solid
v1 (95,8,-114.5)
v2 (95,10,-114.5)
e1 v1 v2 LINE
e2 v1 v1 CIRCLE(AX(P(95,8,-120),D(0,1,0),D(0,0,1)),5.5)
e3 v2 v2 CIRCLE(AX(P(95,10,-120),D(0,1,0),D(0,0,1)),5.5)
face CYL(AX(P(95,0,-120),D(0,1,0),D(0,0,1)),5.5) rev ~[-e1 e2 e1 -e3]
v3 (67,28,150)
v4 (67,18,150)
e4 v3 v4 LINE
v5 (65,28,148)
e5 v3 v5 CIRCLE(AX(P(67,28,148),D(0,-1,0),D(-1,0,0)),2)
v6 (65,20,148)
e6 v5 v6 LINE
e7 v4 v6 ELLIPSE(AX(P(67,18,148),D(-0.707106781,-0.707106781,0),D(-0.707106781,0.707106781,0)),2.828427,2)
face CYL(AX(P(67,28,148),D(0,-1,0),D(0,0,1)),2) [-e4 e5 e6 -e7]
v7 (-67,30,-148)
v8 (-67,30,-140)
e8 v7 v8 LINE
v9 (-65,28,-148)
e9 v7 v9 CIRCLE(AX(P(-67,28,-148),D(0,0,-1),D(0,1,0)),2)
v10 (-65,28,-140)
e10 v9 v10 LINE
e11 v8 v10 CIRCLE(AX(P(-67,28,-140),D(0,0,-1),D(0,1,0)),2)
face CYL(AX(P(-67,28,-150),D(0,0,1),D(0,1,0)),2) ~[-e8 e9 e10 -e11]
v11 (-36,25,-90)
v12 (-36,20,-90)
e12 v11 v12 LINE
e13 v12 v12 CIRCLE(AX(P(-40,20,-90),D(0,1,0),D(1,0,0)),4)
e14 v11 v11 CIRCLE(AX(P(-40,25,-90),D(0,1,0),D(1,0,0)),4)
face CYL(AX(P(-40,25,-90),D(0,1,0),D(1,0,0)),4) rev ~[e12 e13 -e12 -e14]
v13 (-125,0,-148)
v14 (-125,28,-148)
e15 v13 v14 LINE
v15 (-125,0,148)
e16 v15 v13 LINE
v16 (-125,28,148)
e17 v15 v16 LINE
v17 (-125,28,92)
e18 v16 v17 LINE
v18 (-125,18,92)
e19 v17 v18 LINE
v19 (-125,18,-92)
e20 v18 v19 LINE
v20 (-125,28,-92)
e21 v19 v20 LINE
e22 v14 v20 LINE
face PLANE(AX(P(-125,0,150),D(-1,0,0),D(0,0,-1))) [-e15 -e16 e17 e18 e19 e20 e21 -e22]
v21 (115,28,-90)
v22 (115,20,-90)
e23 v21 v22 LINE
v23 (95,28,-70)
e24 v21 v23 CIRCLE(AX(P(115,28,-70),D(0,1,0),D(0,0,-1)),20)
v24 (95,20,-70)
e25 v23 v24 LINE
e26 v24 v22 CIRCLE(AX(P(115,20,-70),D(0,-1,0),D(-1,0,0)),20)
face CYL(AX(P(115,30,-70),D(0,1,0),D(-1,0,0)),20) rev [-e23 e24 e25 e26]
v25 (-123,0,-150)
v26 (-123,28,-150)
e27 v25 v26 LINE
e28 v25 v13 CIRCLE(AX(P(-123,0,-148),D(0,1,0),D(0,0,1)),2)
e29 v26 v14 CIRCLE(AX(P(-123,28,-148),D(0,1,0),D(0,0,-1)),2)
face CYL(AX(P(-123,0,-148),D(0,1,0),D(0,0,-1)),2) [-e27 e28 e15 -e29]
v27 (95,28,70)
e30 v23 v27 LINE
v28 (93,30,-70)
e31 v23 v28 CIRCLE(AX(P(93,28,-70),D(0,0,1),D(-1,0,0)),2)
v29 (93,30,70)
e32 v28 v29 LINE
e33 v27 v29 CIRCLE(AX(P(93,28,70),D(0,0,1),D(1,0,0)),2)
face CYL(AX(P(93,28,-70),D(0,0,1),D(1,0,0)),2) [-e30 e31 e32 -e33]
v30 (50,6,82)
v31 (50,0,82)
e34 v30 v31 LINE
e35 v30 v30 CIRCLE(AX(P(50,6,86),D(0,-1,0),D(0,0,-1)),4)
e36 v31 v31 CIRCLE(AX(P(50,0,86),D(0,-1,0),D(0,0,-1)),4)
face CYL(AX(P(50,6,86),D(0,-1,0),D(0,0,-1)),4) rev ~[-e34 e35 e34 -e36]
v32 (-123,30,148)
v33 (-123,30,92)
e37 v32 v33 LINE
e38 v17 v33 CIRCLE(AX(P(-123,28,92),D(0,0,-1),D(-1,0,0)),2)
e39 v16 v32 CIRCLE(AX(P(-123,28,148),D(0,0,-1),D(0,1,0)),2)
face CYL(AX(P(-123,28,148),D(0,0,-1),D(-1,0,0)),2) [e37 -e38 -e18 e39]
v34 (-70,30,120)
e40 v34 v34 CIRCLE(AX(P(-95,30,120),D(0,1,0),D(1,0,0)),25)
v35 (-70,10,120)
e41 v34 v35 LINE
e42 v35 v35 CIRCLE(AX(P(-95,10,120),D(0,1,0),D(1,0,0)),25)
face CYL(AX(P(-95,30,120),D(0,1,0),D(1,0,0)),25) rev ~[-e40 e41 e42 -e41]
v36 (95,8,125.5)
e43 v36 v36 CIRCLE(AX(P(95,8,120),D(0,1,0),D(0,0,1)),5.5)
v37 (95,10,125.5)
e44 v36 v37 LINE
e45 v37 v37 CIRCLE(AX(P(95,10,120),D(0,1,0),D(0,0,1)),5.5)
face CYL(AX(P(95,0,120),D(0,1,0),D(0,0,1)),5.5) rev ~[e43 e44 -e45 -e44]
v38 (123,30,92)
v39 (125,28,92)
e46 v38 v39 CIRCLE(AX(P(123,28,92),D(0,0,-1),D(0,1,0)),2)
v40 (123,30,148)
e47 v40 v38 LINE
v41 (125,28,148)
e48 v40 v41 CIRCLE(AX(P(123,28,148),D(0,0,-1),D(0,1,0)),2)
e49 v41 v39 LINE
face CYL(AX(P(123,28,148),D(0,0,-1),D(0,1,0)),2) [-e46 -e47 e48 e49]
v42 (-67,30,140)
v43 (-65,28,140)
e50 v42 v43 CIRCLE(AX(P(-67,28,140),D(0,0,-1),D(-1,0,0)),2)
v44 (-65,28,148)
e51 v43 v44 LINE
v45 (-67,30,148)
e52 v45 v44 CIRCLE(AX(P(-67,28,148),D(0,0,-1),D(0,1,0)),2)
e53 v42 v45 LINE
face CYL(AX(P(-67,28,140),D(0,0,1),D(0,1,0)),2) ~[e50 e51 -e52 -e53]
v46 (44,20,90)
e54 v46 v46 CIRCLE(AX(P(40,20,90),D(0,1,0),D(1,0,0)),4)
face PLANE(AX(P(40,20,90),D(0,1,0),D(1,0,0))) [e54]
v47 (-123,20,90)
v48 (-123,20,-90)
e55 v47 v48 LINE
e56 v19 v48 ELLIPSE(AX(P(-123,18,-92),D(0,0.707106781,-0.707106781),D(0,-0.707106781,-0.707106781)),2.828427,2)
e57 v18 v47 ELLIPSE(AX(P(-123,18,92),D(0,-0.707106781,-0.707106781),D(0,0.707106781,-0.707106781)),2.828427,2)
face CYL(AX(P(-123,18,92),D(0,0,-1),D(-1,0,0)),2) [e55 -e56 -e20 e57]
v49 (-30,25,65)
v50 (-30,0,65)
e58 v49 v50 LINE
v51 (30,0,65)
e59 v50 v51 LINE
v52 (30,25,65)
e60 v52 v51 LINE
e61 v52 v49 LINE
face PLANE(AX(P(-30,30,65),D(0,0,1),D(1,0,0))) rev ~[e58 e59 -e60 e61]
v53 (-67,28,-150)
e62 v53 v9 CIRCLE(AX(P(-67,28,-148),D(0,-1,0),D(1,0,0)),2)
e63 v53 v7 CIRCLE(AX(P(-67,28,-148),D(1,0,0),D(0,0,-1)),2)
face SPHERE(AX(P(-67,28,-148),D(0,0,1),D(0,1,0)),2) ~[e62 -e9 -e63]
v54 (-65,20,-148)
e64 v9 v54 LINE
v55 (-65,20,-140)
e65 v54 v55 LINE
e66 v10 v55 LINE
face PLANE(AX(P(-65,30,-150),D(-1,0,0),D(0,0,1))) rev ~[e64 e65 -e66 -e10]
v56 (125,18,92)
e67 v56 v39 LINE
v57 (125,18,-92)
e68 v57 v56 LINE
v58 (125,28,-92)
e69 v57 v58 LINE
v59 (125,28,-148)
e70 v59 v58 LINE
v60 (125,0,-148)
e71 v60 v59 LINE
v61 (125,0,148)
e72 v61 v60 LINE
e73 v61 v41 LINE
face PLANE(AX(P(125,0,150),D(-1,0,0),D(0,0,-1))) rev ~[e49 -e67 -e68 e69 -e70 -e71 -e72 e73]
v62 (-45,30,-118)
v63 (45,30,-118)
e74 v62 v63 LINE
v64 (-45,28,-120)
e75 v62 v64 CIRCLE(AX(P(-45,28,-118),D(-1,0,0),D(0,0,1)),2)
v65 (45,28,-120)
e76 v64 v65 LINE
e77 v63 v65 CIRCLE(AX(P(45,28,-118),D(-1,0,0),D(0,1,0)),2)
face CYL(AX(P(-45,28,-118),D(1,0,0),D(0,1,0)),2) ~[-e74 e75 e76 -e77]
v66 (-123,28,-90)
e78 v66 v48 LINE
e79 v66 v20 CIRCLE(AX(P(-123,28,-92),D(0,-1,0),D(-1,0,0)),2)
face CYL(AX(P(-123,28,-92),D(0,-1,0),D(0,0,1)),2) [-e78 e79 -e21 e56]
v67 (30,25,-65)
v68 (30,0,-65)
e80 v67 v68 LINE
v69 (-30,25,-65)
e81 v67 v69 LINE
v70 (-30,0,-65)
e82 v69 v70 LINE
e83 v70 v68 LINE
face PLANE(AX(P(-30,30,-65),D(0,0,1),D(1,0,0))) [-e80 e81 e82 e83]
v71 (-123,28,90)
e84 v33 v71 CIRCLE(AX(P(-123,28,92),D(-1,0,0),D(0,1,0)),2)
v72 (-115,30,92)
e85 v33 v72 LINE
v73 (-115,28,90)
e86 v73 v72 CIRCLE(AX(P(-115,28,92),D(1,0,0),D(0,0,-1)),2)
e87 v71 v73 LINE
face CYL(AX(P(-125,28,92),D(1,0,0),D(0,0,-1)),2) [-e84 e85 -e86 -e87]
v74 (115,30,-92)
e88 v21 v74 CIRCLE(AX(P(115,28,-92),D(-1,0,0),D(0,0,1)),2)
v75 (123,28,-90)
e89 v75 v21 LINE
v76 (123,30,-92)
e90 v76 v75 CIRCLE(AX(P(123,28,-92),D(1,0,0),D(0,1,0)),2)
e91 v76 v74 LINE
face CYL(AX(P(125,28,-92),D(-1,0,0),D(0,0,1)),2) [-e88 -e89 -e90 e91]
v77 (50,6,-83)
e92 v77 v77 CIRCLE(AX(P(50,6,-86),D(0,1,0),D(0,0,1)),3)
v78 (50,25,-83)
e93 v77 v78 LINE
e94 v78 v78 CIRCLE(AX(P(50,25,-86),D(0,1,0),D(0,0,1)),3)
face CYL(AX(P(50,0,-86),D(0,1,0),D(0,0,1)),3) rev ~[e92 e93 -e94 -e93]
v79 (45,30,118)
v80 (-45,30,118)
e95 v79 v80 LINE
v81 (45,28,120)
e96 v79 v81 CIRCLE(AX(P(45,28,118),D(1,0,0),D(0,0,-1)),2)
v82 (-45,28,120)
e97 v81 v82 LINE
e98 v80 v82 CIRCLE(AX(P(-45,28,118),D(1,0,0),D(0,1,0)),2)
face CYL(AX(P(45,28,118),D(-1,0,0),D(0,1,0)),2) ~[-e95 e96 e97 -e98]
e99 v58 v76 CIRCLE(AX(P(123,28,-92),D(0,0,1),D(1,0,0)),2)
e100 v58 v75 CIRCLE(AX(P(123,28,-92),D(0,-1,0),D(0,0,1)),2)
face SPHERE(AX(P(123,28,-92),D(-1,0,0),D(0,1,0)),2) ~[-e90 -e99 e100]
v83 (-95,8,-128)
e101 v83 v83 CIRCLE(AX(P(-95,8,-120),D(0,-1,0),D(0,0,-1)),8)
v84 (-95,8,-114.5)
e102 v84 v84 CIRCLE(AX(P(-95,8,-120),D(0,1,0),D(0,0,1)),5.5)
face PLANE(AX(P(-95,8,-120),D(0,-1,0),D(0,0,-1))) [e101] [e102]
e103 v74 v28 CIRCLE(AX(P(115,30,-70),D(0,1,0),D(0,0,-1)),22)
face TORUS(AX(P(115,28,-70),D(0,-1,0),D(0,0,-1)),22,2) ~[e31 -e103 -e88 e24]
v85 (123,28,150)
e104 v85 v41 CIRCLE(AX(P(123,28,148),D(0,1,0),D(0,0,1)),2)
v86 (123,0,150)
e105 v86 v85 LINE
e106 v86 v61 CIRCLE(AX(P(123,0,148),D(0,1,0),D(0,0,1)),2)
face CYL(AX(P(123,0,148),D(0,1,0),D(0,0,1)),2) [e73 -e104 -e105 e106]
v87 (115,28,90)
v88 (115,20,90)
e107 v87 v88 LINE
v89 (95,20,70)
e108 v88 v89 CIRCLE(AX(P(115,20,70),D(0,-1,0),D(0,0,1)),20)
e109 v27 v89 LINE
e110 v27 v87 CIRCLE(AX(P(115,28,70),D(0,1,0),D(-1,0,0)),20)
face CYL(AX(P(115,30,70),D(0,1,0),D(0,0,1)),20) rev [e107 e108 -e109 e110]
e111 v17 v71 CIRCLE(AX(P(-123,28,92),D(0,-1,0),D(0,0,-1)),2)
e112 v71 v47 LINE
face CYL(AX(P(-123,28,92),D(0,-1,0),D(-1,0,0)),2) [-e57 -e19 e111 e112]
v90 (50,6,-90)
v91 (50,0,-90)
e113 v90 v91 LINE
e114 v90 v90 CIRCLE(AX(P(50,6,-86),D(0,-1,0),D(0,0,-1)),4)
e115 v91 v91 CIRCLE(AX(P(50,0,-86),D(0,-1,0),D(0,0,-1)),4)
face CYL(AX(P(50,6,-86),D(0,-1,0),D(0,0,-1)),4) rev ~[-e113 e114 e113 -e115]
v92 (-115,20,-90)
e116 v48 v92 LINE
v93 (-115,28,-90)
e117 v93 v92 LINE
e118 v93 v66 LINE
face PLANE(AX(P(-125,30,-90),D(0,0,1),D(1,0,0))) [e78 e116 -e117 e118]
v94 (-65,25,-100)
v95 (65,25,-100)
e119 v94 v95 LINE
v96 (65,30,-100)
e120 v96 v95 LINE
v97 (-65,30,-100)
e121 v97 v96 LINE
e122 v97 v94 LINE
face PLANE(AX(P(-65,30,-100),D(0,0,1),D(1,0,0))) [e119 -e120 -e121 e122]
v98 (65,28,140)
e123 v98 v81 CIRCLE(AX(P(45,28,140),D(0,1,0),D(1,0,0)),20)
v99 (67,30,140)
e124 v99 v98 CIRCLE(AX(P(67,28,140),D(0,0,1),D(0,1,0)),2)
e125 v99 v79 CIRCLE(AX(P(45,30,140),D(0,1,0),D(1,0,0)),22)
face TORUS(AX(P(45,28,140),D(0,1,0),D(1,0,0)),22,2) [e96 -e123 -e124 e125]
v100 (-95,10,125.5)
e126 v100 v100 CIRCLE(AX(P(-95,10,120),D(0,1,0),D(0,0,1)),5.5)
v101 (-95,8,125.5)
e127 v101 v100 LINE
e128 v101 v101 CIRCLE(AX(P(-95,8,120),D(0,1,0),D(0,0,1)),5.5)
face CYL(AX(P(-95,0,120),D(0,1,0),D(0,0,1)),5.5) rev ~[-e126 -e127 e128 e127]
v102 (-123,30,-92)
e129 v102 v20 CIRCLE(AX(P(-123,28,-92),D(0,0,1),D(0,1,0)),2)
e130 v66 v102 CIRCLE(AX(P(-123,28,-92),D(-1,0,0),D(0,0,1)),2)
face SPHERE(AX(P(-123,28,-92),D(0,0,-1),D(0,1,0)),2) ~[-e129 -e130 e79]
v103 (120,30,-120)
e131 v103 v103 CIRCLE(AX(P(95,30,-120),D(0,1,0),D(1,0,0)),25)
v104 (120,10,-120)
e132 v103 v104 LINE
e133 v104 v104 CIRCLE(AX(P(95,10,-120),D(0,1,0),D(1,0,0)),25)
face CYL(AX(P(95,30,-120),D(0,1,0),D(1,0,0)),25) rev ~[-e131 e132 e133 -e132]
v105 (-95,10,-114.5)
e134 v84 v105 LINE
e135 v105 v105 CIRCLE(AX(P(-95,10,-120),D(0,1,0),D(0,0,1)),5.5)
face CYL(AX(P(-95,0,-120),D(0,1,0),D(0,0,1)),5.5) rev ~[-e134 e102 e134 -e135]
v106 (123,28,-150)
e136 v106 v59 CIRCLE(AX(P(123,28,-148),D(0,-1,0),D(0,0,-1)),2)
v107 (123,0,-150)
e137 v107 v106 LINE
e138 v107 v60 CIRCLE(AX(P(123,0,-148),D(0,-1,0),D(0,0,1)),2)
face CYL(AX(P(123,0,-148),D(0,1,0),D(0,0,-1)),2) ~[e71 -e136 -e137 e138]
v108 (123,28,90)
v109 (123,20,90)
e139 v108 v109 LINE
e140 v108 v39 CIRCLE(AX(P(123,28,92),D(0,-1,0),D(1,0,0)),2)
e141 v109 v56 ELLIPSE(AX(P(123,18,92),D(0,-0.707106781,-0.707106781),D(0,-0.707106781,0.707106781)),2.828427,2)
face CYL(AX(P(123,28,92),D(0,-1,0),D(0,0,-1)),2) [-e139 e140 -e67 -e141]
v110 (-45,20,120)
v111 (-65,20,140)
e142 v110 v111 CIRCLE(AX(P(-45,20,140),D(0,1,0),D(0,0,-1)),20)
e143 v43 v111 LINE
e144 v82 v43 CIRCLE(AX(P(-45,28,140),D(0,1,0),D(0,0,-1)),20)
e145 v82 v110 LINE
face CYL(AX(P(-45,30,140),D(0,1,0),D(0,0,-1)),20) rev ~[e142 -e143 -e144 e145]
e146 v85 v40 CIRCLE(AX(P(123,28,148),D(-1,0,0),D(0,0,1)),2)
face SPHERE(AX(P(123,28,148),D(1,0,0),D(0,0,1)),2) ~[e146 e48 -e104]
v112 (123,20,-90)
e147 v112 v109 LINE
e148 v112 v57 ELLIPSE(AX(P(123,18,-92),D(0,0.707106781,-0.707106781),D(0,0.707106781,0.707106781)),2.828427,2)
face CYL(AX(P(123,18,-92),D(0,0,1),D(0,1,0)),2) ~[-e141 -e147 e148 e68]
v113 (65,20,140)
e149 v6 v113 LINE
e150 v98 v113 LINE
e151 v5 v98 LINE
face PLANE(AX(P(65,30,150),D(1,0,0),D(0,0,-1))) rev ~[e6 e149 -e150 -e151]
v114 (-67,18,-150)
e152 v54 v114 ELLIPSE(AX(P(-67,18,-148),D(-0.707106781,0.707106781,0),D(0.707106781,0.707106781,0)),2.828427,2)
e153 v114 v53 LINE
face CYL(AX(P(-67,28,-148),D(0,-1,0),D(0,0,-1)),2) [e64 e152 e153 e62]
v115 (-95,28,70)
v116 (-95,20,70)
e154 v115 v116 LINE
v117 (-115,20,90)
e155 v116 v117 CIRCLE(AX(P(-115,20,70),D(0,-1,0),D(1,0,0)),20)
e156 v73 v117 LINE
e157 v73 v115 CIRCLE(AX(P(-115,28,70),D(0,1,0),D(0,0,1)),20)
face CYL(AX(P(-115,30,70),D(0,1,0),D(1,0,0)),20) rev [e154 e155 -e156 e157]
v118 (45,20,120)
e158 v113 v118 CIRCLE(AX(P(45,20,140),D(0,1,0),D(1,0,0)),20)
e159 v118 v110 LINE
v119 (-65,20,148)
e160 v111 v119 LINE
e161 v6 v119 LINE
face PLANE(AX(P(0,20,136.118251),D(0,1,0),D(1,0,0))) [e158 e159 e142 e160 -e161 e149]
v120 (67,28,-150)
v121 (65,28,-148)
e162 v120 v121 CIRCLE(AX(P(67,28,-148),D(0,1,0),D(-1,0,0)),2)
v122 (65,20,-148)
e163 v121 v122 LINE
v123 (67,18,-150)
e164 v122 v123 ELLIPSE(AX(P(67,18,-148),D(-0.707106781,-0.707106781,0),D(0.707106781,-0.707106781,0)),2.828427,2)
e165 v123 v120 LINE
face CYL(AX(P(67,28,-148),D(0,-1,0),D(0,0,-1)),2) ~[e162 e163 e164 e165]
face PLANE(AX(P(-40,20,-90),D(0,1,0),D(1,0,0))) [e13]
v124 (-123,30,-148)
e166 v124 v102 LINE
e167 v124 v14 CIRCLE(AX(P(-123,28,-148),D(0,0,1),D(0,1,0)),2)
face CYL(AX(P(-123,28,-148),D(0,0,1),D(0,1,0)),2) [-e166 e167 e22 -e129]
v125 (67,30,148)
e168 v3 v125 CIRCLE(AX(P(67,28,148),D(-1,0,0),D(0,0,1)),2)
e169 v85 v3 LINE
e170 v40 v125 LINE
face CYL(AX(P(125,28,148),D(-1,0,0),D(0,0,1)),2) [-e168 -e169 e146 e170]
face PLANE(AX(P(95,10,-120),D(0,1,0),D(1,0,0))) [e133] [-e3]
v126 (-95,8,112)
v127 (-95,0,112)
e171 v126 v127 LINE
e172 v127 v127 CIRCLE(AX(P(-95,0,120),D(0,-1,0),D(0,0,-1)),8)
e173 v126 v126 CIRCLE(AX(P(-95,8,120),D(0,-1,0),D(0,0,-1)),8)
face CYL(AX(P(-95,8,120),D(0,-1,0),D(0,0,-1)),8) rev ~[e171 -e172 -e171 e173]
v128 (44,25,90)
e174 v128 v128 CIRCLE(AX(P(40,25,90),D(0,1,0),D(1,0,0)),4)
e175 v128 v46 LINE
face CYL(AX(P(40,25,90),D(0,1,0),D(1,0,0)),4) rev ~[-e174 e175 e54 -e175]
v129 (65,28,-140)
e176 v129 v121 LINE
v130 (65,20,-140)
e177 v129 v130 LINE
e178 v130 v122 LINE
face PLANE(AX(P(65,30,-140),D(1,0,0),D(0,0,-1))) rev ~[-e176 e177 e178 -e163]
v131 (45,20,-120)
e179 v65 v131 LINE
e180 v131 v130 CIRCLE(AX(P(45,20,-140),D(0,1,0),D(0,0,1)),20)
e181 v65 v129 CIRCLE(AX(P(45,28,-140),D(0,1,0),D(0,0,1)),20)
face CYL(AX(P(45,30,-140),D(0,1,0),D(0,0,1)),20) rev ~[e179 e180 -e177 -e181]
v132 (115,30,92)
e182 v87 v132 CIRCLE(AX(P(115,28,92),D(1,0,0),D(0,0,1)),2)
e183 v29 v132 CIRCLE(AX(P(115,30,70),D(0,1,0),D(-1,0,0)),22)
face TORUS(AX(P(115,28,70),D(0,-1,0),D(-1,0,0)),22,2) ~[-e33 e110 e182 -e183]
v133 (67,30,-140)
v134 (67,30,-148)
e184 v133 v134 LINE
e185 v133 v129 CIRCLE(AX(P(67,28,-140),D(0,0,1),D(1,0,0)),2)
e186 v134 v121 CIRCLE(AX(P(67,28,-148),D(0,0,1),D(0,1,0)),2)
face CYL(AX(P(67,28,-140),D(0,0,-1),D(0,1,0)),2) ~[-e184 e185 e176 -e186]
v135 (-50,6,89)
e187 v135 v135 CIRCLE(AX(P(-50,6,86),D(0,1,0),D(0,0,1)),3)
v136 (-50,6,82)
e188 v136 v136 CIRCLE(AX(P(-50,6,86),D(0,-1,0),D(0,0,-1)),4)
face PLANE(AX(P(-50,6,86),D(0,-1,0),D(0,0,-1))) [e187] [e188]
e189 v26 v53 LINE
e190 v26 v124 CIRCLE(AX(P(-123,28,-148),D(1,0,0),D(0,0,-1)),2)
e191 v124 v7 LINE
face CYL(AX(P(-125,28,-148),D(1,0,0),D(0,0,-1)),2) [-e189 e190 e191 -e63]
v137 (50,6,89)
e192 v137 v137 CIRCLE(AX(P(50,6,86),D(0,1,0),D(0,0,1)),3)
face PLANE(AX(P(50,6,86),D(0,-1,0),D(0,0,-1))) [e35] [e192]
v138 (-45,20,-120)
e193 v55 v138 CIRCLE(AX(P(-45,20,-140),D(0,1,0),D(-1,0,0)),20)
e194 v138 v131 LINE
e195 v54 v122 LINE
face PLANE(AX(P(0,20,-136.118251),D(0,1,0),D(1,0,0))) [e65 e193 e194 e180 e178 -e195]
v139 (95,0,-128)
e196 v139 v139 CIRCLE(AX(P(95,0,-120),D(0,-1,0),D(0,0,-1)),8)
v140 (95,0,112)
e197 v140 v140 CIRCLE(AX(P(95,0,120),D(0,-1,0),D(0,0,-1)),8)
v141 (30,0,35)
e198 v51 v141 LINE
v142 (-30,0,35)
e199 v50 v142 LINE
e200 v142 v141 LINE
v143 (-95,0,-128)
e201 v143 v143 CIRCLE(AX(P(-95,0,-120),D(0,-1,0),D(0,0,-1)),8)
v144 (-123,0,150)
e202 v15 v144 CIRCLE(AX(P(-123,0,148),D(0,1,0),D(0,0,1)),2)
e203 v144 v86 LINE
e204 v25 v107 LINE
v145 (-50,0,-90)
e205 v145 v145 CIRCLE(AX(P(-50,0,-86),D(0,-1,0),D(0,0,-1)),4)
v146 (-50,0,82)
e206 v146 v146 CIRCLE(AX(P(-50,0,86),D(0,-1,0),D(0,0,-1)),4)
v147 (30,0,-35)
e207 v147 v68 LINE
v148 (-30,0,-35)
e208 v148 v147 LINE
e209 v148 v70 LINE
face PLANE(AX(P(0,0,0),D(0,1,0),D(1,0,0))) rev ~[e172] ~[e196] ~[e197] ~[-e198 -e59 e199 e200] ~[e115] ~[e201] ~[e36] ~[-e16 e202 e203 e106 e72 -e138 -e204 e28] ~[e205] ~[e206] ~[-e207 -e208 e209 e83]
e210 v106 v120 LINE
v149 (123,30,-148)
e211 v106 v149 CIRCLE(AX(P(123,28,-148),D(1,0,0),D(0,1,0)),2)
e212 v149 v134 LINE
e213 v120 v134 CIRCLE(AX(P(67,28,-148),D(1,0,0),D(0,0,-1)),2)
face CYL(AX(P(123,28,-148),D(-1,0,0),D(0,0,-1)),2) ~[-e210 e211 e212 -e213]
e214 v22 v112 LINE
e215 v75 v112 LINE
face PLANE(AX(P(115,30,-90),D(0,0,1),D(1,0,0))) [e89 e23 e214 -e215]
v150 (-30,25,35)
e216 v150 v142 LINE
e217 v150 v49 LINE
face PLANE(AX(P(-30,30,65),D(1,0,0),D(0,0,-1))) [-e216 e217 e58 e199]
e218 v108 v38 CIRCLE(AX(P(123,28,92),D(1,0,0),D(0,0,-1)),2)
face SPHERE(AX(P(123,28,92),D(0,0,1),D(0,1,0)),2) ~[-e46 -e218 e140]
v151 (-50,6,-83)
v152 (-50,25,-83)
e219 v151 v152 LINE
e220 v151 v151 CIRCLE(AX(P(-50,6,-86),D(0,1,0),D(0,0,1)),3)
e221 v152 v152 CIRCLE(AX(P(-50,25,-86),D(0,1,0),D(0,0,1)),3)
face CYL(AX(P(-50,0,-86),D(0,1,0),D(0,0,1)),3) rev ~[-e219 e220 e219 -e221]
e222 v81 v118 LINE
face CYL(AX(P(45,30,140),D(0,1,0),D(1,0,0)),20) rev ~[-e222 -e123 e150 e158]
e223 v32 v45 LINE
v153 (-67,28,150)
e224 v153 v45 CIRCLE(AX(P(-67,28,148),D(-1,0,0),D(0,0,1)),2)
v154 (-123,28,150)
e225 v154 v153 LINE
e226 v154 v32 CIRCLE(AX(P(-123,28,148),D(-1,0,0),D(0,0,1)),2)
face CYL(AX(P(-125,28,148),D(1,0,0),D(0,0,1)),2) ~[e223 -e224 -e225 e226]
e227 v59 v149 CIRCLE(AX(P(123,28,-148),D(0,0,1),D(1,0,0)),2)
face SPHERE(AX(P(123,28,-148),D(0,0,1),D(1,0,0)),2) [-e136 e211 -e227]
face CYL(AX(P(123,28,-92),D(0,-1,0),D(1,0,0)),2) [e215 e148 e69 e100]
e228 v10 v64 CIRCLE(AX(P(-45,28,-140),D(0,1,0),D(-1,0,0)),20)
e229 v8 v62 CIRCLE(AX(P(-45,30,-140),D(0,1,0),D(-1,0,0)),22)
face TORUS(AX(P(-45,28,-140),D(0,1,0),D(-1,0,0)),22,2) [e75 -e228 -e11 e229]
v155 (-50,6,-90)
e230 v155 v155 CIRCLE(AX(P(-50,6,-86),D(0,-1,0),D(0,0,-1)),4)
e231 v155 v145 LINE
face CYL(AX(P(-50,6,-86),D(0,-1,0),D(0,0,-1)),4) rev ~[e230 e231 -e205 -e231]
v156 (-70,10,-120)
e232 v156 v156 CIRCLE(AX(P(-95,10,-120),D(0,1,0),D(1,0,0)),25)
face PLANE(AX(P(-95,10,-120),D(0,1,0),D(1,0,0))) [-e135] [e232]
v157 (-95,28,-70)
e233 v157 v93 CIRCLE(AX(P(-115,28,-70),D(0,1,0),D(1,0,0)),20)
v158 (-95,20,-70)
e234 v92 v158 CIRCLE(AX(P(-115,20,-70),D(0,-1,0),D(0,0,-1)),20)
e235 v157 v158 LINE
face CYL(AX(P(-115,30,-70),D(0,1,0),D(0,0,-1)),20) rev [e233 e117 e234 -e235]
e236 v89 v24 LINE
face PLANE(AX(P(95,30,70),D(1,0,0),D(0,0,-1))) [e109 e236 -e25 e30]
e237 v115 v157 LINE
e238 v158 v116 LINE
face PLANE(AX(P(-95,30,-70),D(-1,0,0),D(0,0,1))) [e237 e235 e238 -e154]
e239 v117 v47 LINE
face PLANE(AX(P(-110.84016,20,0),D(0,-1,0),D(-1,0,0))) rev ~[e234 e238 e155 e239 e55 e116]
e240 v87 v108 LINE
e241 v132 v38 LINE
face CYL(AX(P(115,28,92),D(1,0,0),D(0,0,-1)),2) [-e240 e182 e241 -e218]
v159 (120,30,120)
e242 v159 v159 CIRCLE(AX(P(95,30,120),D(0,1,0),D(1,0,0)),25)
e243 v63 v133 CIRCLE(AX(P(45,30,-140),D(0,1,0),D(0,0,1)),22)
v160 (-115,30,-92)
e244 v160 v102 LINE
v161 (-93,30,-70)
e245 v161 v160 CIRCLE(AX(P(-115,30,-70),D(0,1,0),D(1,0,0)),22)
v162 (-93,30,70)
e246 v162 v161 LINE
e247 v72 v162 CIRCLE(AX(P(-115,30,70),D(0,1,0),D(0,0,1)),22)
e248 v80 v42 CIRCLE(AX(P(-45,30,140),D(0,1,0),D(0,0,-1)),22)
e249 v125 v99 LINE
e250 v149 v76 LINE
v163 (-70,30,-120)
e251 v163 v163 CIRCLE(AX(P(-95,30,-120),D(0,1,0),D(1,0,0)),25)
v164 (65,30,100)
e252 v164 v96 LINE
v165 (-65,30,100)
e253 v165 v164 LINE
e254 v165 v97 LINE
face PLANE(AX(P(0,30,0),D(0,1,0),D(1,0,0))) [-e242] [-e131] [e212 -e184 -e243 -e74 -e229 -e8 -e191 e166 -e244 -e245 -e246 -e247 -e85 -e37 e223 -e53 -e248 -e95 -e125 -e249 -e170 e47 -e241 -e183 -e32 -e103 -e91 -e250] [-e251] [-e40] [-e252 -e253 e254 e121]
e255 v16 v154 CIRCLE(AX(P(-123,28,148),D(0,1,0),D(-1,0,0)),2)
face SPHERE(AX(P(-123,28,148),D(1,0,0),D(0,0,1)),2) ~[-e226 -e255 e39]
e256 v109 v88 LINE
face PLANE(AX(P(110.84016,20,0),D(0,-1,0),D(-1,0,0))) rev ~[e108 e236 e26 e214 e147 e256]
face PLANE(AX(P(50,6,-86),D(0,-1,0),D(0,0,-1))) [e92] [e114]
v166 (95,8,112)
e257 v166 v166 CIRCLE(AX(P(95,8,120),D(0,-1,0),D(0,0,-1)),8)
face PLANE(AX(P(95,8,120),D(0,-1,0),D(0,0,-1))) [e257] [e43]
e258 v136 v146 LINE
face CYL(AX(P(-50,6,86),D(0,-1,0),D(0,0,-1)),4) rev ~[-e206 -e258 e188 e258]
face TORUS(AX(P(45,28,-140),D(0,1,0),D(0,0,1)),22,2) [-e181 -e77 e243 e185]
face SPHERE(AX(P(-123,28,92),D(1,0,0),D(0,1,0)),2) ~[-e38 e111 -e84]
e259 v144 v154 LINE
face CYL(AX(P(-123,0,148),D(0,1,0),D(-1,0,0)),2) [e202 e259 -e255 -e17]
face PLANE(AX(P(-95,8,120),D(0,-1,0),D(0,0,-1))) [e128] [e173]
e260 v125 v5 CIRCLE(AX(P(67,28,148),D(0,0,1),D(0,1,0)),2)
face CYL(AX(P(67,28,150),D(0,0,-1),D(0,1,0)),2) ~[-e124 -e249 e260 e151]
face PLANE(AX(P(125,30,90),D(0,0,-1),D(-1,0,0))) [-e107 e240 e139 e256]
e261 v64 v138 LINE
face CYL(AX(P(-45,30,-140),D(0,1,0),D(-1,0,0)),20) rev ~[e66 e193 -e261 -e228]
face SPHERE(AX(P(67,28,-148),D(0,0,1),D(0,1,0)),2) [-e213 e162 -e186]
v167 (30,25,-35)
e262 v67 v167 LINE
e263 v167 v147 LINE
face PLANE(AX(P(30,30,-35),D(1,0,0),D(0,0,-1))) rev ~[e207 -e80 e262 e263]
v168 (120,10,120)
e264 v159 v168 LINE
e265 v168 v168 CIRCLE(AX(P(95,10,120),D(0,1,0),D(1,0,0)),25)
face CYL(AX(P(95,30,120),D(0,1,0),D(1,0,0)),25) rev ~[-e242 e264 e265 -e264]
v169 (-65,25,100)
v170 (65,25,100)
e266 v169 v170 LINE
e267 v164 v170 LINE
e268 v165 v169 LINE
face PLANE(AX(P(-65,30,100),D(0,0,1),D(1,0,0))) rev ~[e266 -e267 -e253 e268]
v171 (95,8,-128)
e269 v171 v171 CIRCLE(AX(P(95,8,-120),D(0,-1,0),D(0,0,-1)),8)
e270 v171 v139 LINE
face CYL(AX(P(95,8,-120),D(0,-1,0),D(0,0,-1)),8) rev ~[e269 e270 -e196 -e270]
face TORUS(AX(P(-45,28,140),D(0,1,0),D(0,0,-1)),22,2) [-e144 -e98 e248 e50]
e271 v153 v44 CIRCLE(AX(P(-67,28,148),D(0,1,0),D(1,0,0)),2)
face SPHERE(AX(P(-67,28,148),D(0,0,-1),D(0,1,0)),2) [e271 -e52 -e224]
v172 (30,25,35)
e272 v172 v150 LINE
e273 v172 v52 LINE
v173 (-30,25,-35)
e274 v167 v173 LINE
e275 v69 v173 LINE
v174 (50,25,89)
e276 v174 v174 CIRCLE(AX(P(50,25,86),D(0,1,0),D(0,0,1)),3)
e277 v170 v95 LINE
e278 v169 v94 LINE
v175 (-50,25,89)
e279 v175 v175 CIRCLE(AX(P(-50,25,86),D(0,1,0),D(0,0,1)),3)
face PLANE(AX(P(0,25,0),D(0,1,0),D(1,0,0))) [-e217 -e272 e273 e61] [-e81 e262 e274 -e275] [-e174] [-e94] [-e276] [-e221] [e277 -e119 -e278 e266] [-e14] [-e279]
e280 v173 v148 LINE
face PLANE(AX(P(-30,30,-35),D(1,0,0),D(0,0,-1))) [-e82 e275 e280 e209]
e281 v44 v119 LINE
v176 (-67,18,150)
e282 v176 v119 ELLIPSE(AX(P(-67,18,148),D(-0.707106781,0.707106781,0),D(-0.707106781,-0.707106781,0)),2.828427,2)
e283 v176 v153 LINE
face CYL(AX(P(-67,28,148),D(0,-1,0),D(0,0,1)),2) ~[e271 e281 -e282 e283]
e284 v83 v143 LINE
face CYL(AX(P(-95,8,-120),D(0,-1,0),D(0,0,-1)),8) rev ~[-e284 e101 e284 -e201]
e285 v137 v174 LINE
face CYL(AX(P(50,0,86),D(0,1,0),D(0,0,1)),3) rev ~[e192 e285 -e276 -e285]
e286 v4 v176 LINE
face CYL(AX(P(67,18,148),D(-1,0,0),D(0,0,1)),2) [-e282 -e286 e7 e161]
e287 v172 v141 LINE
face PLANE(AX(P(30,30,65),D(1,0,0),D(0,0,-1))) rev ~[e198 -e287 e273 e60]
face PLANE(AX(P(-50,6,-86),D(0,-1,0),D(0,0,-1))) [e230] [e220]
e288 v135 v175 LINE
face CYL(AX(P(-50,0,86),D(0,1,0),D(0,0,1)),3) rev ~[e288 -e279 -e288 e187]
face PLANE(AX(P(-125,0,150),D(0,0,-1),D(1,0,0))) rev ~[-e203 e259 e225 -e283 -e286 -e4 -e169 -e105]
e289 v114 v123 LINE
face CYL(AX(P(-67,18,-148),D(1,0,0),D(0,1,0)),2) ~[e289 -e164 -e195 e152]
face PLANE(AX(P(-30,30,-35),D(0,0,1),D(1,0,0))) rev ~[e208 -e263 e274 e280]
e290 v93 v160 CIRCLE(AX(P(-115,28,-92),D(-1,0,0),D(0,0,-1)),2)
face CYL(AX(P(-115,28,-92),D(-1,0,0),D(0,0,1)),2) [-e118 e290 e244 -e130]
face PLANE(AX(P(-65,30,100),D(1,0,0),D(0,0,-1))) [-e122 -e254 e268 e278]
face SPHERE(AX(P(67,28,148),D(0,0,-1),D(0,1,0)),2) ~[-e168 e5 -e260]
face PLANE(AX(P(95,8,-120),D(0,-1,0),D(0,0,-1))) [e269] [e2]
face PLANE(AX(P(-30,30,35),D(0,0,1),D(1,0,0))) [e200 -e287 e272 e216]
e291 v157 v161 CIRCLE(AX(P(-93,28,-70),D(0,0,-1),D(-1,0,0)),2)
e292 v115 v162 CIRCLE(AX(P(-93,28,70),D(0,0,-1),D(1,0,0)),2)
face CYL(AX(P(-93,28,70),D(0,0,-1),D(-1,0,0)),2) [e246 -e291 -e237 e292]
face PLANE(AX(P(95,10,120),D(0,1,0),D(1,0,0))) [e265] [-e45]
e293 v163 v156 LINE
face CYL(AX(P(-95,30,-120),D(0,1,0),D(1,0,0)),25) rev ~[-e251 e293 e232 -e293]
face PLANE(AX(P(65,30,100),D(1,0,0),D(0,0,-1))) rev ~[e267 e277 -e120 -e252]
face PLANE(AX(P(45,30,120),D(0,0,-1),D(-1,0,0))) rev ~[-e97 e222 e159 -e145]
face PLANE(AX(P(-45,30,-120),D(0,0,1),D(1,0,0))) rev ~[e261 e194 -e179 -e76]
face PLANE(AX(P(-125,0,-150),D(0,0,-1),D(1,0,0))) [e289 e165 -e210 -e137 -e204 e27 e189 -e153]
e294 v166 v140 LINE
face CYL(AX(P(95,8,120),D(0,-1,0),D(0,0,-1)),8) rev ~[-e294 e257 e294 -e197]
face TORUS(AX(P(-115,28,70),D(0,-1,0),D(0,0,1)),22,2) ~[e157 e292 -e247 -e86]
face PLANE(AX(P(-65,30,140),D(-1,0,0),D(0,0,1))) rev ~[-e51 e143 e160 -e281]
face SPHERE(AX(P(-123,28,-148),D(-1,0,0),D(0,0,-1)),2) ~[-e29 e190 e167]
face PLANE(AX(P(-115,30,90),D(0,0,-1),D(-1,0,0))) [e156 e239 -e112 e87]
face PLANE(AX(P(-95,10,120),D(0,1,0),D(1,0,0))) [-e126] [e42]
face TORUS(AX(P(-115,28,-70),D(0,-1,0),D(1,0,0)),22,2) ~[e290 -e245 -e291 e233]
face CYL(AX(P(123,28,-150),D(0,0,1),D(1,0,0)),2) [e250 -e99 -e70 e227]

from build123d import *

# Parameters (mm, degrees)
SKETCH1_W                                           = 250
SKETCH1_H                                           = 300
BOSS_EXTRUDE1_DEPTH                                 = 30
SKETCH2_W                                           = 60
SKETCH2_H                                           = 30
CUT_EXTRUDE1_DEPTH                                  = 246
SKETCH4_W                                           = 130
SKETCH4_H                                           = 200
CUT_EXTRUDE2_DEPTH                                  = 5
CBORE_FOR_M5_HEX_SOCKET_HEAD_CAP_SCREW1_D           = 6
CBORE_FOR_M5_HEX_SOCKET_HEAD_CAP_SCREW1_DEPTH       = 30
CBORE_FOR_M5_HEX_SOCKET_HEAD_CAP_SCREW1_CBORE_D     = 8
CBORE_FOR_M5_HEX_SOCKET_HEAD_CAP_SCREW1_CBORE_DEPTH = 6
CBORE_FOR_M5_HEX_SOCKET_HEAD_CAP_SCREW1_TIP         = 1.802581857
CUT_EXTRUDE4_DEPTH                                  = 10
FILLET1_R                                           = 2
FILLET2_R                                           = 2
FILLET3_R                                           = 2
FILLET4_R                                           = 2
FILLET5_R                                           = 2
FILLET7_R                                           = 2
FILLET8_R                                           = 2
FILLET9_R                                           = 2
FILLET10_R                                          = 2
FILLET11_R                                          = 2
FILLET12_R                                          = 2
FILLET13_R                                          = 2
FILLET14_R                                          = 2
FILLET15_R                                          = 2
FILLET16_R                                          = 2
FILLET17_R                                          = 2
SKETCH11_R                                          = 25
CUT_EXTRUDE5_DEPTH                                  = 20
CBORE_FOR_M5_HEX_HEAD_BOLT3_D                       = 11
CBORE_FOR_M5_HEX_HEAD_BOLT3_CBORE_D                 = 16
CBORE_FOR_M5_HEX_HEAD_BOLT3_CBORE_DEPTH             = 8
SKETCH26_R                                          = 4
CUT_EXTRUDE6_DEPTH                                  = 5


with BuildPart() as part:
    # Sketch1 → Boss-Extrude1 (new body)
    with BuildSketch(Plane(origin=(0, 0, 0), x_dir=(1, 0, 0), z_dir=(0, 1, 0))):
        Rectangle(SKETCH1_W, SKETCH1_H)
    extrude(amount=BOSS_EXTRUDE1_DEPTH)

    # Sketch2 → Cut-Extrude1 (cut)
    with BuildSketch(Plane(origin=(0, 30, 0), x_dir=(1, 0, 0), z_dir=(0, 1, 0))):
        with Locations((0, 50)):
            Rectangle(SKETCH2_W, SKETCH2_H)
        with Locations((0, -50)):
            Rectangle(SKETCH2_W, SKETCH2_H)
    extrude(amount=-CUT_EXTRUDE1_DEPTH, mode=Mode.SUBTRACT)

    # Sketch4 → Cut-Extrude2 (cut)
    with BuildSketch(Plane(origin=(0, 30, 0), x_dir=(1, 0, 0), z_dir=(0, 1, 0))):
        Rectangle(SKETCH4_W, SKETCH4_H)
    extrude(amount=-CUT_EXTRUDE2_DEPTH, mode=Mode.SUBTRACT)

    # CBORE for M5 Hex Socket Head Cap Screw1
    with Locations(Plane(origin=(50, 0, -86), x_dir=(0, 0, -1), z_dir=(0, -1, 0))):
        with Locations((0, 0), (0, -100), (-172, -100), (-172, 0)):
            CounterBoreHole(CBORE_FOR_M5_HEX_SOCKET_HEAD_CAP_SCREW1_D / 2, CBORE_FOR_M5_HEX_SOCKET_HEAD_CAP_SCREW1_CBORE_D / 2, CBORE_FOR_M5_HEX_SOCKET_HEAD_CAP_SCREW1_CBORE_DEPTH, depth=CBORE_FOR_M5_HEX_SOCKET_HEAD_CAP_SCREW1_DEPTH)
            with Locations((0, 0, -(CBORE_FOR_M5_HEX_SOCKET_HEAD_CAP_SCREW1_DEPTH + CBORE_FOR_M5_HEX_SOCKET_HEAD_CAP_SCREW1_TIP / 2))):  # 118° drill point
                Cone(0, CBORE_FOR_M5_HEX_SOCKET_HEAD_CAP_SCREW1_D / 2, CBORE_FOR_M5_HEX_SOCKET_HEAD_CAP_SCREW1_TIP, mode=Mode.SUBTRACT)

    # Sketch10 → Cut-Extrude4 (cut)
    with BuildSketch(Plane(origin=(0, 30, 0), x_dir=(1, 0, 0), z_dir=(0, 1, 0))):
        with BuildLine():
            Line((-125, 90), (-115, 90))
            ThreePointArc((-115, 90), (-100.857864376, 84.142135624), (-95, 70))
            Line((-95, 70), (-95, -70))
            ThreePointArc((-95, -70), (-100.857864376, -84.142135624), (-115, -90))
            Line((-115, -90), (-125, -90))
            Line((-125, -90), (-125, 90))
        make_face()
        with BuildLine():
            Line((-65, -150), (65, -150))
            Line((65, -150), (65, -140))
            ThreePointArc((65, -140), (59.142135624, -125.857864376), (45, -120))
            Line((45, -120), (-45, -120))
            ThreePointArc((-45, -120), (-59.142135624, -125.857864376), (-65, -140))
            Line((-65, -140), (-65, -150))
        make_face()
        with BuildLine():
            Line((125, -90), (115, -90))
            ThreePointArc((115, -90), (100.857864376, -84.142135624), (95, -70))
            Line((95, -70), (95, 70))
            ThreePointArc((95, 70), (100.857864376, 84.142135624), (115, 90))
            Line((115, 90), (125, 90))
            Line((125, 90), (125, -90))
        make_face()
        with BuildLine():
            Line((65, 150), (-65, 150))
            Line((-65, 150), (-65, 140))
            ThreePointArc((-65, 140), (-59.142135624, 125.857864376), (-45, 120))
            Line((-45, 120), (45, 120))
            ThreePointArc((45, 120), (59.142135624, 125.857864376), (65, 140))
            Line((65, 140), (65, 150))
        make_face()
    extrude(amount=-CUT_EXTRUDE4_DEPTH, mode=Mode.SUBTRACT)

    # Fillet1
    fillet1_edges = [part.edges().sort_by_distance(p)[0] for p in [
        (-65, 30, 145),
        (65, 30, 145),
        (59.142135624, 30, 125.857864376),
        (0, 30, 120),
        (-59.142135624, 30, 125.857864376),
    ]]
    fillet(fillet1_edges, radius=FILLET1_R)

    # Fillet2
    fillet2_edges = [part.edges().sort_by_distance(p)[0] for p in [
        (-65, 24, 150),
        (-96, 30, 150),
        (-65.585786438, 29.414213562, 150),
    ]]
    fillet(fillet2_edges, radius=FILLET2_R)

    # Fillet3
    fillet3_edges = [part.edges().sort_by_distance(p)[0] for p in [
        (65, 24, 150),
        (96, 30, 150),
        (65.585786438, 29.414213562, 150),
    ]]
    fillet(fillet3_edges, radius=FILLET3_R)

    # Fillet4
    fillet4_edges = [part.edges().sort_by_distance(p)[0] for p in [
        (125, 14, 150),
        (125, 30, 119),
        (125, 29.414213562, 149.414213562),
    ]]
    fillet(fillet4_edges, radius=FILLET4_R)

    # Fillet5
    fillet5_edges = [part.edges().sort_by_distance(p)[0] for p in [
        (125, 24, 90),
        (120, 30, -90),
        (100.857864376, 30, -84.142135624),
        (95, 30, 0),
        (100.857864376, 30, 84.142135624),
        (119, 30, 90),
        (124.414213562, 29.414213562, 90),
    ]]
    fillet(fillet5_edges, radius=FILLET5_R)

    # Fillet7
    fillet7_edges = [part.edges().sort_by_distance(p)[0] for p in [
        (125, 24, -90),
        (125, 30, -121),
        (125, 29.414213562, -90.585786438),
    ]]
    fillet(fillet7_edges, radius=FILLET7_R)

    # Fillet8
    fillet8_edges = [part.edges().sort_by_distance(p)[0] for p in [
        (65, 30, -145),
        (-65, 30, -145),
        (-59.142135624, 30, -125.857864376),
        (0, 30, -120),
        (59.142135624, 30, -125.857864376),
    ]]
    fillet(fillet8_edges, radius=FILLET8_R)

    # Fillet9
    fillet9_edges = [part.edges().sort_by_distance(p)[0] for p in [
        (65, 24, -150),
        (125, 14, -150),
        (95, 30, -150),
        (124.414213562, 29.414213562, -150),
        (65.585786438, 29.414213562, -150),
    ]]
    fillet(fillet9_edges, radius=FILLET9_R)

    # Fillet10
    fillet10_edges = [part.edges().sort_by_distance(p)[0] for p in [
        (-65, 24, -150),
        (-96, 30, -150),
        (-65.585786438, 29.414213562, -150),
    ]]
    fillet(fillet10_edges, radius=FILLET10_R)

    # Fillet11
    fillet11_edges = [part.edges().sort_by_distance(p)[0] for p in [
        (-125, 14, -150),
        (-125, 30, -119),
        (-125, 29.414213562, -149.414213562),
    ]]
    fillet(fillet11_edges, radius=FILLET11_R)

    # Fillet12
    fillet12_edges = [part.edges().sort_by_distance(p)[0] for p in [
        (-125, 24, -90),
        (-120, 30, 90),
        (-100.857864376, 30, 84.142135624),
        (-95, 30, 0),
        (-100.857864376, 30, -84.142135624),
        (-119, 30, -90),
        (-124.414213562, 29.414213562, -90),
    ]]
    fillet(fillet12_edges, radius=FILLET12_R)

    # Fillet13
    fillet13_edges = [part.edges().sort_by_distance(p)[0] for p in [
        (-125, 24, 90),
        (-125, 14, 150),
        (-125, 29.414213562, 149.414213562),
        (-125, 30, 120),
        (-125, 29.414213562, 90.585786438),
    ]]
    fillet(fillet13_edges, radius=FILLET13_R)

    # Fillet14
    fillet14_edges = [part.edges().sort_by_distance(p)[0] for p in [
        (-125, 20, 0),
    ]]
    fillet(fillet14_edges, radius=FILLET14_R)

    # Fillet15
    fillet15_edges = [part.edges().sort_by_distance(p)[0] for p in [
        (0, 20, 150),
    ]]
    fillet(fillet15_edges, radius=FILLET15_R)

    # Fillet16
    fillet16_edges = [part.edges().sort_by_distance(p)[0] for p in [
        (125, 20, 0),
    ]]
    fillet(fillet16_edges, radius=FILLET16_R)

    # Fillet17
    fillet17_edges = [part.edges().sort_by_distance(p)[0] for p in [
        (0, 20, -150),
    ]]
    fillet(fillet17_edges, radius=FILLET17_R)

    # Sketch11 → Cut-Extrude5 (cut)
    with BuildSketch(Plane(origin=(0, 30, 0), x_dir=(1, 0, 0), z_dir=(0, 1, 0))):
        with Locations((-95, 120)):
            Circle(SKETCH11_R)
        with Locations((95, 120)):
            Circle(SKETCH11_R)
        with Locations((95, -120)):
            Circle(SKETCH11_R)
        with Locations((-95, -120)):
            Circle(SKETCH11_R)
    extrude(amount=-CUT_EXTRUDE5_DEPTH, mode=Mode.SUBTRACT)

    # CBORE for M5 Hex Head Bolt3 (through all)
    with Locations(Plane(origin=(95, 0, -120), x_dir=(0, 0, -1), z_dir=(0, -1, 0))):
        with Locations((0, 0), (0, -190), (-240, -190), (-240, 0)):
            CounterBoreHole(CBORE_FOR_M5_HEX_HEAD_BOLT3_D / 2, CBORE_FOR_M5_HEX_HEAD_BOLT3_CBORE_D / 2, CBORE_FOR_M5_HEX_HEAD_BOLT3_CBORE_DEPTH)

    # Sketch26 → Cut-Extrude6 (cut)
    with BuildSketch(Plane(origin=(0, 25, 0), x_dir=(1, 0, 0), z_dir=(0, 1, 0))):
        with Locations((40, -90)):
            Circle(SKETCH26_R)
        with Locations((-40, 90)):
            Circle(SKETCH26_R)
    extrude(amount=-CUT_EXTRUDE6_DEPTH, mode=Mode.SUBTRACT)


solid = part.part
